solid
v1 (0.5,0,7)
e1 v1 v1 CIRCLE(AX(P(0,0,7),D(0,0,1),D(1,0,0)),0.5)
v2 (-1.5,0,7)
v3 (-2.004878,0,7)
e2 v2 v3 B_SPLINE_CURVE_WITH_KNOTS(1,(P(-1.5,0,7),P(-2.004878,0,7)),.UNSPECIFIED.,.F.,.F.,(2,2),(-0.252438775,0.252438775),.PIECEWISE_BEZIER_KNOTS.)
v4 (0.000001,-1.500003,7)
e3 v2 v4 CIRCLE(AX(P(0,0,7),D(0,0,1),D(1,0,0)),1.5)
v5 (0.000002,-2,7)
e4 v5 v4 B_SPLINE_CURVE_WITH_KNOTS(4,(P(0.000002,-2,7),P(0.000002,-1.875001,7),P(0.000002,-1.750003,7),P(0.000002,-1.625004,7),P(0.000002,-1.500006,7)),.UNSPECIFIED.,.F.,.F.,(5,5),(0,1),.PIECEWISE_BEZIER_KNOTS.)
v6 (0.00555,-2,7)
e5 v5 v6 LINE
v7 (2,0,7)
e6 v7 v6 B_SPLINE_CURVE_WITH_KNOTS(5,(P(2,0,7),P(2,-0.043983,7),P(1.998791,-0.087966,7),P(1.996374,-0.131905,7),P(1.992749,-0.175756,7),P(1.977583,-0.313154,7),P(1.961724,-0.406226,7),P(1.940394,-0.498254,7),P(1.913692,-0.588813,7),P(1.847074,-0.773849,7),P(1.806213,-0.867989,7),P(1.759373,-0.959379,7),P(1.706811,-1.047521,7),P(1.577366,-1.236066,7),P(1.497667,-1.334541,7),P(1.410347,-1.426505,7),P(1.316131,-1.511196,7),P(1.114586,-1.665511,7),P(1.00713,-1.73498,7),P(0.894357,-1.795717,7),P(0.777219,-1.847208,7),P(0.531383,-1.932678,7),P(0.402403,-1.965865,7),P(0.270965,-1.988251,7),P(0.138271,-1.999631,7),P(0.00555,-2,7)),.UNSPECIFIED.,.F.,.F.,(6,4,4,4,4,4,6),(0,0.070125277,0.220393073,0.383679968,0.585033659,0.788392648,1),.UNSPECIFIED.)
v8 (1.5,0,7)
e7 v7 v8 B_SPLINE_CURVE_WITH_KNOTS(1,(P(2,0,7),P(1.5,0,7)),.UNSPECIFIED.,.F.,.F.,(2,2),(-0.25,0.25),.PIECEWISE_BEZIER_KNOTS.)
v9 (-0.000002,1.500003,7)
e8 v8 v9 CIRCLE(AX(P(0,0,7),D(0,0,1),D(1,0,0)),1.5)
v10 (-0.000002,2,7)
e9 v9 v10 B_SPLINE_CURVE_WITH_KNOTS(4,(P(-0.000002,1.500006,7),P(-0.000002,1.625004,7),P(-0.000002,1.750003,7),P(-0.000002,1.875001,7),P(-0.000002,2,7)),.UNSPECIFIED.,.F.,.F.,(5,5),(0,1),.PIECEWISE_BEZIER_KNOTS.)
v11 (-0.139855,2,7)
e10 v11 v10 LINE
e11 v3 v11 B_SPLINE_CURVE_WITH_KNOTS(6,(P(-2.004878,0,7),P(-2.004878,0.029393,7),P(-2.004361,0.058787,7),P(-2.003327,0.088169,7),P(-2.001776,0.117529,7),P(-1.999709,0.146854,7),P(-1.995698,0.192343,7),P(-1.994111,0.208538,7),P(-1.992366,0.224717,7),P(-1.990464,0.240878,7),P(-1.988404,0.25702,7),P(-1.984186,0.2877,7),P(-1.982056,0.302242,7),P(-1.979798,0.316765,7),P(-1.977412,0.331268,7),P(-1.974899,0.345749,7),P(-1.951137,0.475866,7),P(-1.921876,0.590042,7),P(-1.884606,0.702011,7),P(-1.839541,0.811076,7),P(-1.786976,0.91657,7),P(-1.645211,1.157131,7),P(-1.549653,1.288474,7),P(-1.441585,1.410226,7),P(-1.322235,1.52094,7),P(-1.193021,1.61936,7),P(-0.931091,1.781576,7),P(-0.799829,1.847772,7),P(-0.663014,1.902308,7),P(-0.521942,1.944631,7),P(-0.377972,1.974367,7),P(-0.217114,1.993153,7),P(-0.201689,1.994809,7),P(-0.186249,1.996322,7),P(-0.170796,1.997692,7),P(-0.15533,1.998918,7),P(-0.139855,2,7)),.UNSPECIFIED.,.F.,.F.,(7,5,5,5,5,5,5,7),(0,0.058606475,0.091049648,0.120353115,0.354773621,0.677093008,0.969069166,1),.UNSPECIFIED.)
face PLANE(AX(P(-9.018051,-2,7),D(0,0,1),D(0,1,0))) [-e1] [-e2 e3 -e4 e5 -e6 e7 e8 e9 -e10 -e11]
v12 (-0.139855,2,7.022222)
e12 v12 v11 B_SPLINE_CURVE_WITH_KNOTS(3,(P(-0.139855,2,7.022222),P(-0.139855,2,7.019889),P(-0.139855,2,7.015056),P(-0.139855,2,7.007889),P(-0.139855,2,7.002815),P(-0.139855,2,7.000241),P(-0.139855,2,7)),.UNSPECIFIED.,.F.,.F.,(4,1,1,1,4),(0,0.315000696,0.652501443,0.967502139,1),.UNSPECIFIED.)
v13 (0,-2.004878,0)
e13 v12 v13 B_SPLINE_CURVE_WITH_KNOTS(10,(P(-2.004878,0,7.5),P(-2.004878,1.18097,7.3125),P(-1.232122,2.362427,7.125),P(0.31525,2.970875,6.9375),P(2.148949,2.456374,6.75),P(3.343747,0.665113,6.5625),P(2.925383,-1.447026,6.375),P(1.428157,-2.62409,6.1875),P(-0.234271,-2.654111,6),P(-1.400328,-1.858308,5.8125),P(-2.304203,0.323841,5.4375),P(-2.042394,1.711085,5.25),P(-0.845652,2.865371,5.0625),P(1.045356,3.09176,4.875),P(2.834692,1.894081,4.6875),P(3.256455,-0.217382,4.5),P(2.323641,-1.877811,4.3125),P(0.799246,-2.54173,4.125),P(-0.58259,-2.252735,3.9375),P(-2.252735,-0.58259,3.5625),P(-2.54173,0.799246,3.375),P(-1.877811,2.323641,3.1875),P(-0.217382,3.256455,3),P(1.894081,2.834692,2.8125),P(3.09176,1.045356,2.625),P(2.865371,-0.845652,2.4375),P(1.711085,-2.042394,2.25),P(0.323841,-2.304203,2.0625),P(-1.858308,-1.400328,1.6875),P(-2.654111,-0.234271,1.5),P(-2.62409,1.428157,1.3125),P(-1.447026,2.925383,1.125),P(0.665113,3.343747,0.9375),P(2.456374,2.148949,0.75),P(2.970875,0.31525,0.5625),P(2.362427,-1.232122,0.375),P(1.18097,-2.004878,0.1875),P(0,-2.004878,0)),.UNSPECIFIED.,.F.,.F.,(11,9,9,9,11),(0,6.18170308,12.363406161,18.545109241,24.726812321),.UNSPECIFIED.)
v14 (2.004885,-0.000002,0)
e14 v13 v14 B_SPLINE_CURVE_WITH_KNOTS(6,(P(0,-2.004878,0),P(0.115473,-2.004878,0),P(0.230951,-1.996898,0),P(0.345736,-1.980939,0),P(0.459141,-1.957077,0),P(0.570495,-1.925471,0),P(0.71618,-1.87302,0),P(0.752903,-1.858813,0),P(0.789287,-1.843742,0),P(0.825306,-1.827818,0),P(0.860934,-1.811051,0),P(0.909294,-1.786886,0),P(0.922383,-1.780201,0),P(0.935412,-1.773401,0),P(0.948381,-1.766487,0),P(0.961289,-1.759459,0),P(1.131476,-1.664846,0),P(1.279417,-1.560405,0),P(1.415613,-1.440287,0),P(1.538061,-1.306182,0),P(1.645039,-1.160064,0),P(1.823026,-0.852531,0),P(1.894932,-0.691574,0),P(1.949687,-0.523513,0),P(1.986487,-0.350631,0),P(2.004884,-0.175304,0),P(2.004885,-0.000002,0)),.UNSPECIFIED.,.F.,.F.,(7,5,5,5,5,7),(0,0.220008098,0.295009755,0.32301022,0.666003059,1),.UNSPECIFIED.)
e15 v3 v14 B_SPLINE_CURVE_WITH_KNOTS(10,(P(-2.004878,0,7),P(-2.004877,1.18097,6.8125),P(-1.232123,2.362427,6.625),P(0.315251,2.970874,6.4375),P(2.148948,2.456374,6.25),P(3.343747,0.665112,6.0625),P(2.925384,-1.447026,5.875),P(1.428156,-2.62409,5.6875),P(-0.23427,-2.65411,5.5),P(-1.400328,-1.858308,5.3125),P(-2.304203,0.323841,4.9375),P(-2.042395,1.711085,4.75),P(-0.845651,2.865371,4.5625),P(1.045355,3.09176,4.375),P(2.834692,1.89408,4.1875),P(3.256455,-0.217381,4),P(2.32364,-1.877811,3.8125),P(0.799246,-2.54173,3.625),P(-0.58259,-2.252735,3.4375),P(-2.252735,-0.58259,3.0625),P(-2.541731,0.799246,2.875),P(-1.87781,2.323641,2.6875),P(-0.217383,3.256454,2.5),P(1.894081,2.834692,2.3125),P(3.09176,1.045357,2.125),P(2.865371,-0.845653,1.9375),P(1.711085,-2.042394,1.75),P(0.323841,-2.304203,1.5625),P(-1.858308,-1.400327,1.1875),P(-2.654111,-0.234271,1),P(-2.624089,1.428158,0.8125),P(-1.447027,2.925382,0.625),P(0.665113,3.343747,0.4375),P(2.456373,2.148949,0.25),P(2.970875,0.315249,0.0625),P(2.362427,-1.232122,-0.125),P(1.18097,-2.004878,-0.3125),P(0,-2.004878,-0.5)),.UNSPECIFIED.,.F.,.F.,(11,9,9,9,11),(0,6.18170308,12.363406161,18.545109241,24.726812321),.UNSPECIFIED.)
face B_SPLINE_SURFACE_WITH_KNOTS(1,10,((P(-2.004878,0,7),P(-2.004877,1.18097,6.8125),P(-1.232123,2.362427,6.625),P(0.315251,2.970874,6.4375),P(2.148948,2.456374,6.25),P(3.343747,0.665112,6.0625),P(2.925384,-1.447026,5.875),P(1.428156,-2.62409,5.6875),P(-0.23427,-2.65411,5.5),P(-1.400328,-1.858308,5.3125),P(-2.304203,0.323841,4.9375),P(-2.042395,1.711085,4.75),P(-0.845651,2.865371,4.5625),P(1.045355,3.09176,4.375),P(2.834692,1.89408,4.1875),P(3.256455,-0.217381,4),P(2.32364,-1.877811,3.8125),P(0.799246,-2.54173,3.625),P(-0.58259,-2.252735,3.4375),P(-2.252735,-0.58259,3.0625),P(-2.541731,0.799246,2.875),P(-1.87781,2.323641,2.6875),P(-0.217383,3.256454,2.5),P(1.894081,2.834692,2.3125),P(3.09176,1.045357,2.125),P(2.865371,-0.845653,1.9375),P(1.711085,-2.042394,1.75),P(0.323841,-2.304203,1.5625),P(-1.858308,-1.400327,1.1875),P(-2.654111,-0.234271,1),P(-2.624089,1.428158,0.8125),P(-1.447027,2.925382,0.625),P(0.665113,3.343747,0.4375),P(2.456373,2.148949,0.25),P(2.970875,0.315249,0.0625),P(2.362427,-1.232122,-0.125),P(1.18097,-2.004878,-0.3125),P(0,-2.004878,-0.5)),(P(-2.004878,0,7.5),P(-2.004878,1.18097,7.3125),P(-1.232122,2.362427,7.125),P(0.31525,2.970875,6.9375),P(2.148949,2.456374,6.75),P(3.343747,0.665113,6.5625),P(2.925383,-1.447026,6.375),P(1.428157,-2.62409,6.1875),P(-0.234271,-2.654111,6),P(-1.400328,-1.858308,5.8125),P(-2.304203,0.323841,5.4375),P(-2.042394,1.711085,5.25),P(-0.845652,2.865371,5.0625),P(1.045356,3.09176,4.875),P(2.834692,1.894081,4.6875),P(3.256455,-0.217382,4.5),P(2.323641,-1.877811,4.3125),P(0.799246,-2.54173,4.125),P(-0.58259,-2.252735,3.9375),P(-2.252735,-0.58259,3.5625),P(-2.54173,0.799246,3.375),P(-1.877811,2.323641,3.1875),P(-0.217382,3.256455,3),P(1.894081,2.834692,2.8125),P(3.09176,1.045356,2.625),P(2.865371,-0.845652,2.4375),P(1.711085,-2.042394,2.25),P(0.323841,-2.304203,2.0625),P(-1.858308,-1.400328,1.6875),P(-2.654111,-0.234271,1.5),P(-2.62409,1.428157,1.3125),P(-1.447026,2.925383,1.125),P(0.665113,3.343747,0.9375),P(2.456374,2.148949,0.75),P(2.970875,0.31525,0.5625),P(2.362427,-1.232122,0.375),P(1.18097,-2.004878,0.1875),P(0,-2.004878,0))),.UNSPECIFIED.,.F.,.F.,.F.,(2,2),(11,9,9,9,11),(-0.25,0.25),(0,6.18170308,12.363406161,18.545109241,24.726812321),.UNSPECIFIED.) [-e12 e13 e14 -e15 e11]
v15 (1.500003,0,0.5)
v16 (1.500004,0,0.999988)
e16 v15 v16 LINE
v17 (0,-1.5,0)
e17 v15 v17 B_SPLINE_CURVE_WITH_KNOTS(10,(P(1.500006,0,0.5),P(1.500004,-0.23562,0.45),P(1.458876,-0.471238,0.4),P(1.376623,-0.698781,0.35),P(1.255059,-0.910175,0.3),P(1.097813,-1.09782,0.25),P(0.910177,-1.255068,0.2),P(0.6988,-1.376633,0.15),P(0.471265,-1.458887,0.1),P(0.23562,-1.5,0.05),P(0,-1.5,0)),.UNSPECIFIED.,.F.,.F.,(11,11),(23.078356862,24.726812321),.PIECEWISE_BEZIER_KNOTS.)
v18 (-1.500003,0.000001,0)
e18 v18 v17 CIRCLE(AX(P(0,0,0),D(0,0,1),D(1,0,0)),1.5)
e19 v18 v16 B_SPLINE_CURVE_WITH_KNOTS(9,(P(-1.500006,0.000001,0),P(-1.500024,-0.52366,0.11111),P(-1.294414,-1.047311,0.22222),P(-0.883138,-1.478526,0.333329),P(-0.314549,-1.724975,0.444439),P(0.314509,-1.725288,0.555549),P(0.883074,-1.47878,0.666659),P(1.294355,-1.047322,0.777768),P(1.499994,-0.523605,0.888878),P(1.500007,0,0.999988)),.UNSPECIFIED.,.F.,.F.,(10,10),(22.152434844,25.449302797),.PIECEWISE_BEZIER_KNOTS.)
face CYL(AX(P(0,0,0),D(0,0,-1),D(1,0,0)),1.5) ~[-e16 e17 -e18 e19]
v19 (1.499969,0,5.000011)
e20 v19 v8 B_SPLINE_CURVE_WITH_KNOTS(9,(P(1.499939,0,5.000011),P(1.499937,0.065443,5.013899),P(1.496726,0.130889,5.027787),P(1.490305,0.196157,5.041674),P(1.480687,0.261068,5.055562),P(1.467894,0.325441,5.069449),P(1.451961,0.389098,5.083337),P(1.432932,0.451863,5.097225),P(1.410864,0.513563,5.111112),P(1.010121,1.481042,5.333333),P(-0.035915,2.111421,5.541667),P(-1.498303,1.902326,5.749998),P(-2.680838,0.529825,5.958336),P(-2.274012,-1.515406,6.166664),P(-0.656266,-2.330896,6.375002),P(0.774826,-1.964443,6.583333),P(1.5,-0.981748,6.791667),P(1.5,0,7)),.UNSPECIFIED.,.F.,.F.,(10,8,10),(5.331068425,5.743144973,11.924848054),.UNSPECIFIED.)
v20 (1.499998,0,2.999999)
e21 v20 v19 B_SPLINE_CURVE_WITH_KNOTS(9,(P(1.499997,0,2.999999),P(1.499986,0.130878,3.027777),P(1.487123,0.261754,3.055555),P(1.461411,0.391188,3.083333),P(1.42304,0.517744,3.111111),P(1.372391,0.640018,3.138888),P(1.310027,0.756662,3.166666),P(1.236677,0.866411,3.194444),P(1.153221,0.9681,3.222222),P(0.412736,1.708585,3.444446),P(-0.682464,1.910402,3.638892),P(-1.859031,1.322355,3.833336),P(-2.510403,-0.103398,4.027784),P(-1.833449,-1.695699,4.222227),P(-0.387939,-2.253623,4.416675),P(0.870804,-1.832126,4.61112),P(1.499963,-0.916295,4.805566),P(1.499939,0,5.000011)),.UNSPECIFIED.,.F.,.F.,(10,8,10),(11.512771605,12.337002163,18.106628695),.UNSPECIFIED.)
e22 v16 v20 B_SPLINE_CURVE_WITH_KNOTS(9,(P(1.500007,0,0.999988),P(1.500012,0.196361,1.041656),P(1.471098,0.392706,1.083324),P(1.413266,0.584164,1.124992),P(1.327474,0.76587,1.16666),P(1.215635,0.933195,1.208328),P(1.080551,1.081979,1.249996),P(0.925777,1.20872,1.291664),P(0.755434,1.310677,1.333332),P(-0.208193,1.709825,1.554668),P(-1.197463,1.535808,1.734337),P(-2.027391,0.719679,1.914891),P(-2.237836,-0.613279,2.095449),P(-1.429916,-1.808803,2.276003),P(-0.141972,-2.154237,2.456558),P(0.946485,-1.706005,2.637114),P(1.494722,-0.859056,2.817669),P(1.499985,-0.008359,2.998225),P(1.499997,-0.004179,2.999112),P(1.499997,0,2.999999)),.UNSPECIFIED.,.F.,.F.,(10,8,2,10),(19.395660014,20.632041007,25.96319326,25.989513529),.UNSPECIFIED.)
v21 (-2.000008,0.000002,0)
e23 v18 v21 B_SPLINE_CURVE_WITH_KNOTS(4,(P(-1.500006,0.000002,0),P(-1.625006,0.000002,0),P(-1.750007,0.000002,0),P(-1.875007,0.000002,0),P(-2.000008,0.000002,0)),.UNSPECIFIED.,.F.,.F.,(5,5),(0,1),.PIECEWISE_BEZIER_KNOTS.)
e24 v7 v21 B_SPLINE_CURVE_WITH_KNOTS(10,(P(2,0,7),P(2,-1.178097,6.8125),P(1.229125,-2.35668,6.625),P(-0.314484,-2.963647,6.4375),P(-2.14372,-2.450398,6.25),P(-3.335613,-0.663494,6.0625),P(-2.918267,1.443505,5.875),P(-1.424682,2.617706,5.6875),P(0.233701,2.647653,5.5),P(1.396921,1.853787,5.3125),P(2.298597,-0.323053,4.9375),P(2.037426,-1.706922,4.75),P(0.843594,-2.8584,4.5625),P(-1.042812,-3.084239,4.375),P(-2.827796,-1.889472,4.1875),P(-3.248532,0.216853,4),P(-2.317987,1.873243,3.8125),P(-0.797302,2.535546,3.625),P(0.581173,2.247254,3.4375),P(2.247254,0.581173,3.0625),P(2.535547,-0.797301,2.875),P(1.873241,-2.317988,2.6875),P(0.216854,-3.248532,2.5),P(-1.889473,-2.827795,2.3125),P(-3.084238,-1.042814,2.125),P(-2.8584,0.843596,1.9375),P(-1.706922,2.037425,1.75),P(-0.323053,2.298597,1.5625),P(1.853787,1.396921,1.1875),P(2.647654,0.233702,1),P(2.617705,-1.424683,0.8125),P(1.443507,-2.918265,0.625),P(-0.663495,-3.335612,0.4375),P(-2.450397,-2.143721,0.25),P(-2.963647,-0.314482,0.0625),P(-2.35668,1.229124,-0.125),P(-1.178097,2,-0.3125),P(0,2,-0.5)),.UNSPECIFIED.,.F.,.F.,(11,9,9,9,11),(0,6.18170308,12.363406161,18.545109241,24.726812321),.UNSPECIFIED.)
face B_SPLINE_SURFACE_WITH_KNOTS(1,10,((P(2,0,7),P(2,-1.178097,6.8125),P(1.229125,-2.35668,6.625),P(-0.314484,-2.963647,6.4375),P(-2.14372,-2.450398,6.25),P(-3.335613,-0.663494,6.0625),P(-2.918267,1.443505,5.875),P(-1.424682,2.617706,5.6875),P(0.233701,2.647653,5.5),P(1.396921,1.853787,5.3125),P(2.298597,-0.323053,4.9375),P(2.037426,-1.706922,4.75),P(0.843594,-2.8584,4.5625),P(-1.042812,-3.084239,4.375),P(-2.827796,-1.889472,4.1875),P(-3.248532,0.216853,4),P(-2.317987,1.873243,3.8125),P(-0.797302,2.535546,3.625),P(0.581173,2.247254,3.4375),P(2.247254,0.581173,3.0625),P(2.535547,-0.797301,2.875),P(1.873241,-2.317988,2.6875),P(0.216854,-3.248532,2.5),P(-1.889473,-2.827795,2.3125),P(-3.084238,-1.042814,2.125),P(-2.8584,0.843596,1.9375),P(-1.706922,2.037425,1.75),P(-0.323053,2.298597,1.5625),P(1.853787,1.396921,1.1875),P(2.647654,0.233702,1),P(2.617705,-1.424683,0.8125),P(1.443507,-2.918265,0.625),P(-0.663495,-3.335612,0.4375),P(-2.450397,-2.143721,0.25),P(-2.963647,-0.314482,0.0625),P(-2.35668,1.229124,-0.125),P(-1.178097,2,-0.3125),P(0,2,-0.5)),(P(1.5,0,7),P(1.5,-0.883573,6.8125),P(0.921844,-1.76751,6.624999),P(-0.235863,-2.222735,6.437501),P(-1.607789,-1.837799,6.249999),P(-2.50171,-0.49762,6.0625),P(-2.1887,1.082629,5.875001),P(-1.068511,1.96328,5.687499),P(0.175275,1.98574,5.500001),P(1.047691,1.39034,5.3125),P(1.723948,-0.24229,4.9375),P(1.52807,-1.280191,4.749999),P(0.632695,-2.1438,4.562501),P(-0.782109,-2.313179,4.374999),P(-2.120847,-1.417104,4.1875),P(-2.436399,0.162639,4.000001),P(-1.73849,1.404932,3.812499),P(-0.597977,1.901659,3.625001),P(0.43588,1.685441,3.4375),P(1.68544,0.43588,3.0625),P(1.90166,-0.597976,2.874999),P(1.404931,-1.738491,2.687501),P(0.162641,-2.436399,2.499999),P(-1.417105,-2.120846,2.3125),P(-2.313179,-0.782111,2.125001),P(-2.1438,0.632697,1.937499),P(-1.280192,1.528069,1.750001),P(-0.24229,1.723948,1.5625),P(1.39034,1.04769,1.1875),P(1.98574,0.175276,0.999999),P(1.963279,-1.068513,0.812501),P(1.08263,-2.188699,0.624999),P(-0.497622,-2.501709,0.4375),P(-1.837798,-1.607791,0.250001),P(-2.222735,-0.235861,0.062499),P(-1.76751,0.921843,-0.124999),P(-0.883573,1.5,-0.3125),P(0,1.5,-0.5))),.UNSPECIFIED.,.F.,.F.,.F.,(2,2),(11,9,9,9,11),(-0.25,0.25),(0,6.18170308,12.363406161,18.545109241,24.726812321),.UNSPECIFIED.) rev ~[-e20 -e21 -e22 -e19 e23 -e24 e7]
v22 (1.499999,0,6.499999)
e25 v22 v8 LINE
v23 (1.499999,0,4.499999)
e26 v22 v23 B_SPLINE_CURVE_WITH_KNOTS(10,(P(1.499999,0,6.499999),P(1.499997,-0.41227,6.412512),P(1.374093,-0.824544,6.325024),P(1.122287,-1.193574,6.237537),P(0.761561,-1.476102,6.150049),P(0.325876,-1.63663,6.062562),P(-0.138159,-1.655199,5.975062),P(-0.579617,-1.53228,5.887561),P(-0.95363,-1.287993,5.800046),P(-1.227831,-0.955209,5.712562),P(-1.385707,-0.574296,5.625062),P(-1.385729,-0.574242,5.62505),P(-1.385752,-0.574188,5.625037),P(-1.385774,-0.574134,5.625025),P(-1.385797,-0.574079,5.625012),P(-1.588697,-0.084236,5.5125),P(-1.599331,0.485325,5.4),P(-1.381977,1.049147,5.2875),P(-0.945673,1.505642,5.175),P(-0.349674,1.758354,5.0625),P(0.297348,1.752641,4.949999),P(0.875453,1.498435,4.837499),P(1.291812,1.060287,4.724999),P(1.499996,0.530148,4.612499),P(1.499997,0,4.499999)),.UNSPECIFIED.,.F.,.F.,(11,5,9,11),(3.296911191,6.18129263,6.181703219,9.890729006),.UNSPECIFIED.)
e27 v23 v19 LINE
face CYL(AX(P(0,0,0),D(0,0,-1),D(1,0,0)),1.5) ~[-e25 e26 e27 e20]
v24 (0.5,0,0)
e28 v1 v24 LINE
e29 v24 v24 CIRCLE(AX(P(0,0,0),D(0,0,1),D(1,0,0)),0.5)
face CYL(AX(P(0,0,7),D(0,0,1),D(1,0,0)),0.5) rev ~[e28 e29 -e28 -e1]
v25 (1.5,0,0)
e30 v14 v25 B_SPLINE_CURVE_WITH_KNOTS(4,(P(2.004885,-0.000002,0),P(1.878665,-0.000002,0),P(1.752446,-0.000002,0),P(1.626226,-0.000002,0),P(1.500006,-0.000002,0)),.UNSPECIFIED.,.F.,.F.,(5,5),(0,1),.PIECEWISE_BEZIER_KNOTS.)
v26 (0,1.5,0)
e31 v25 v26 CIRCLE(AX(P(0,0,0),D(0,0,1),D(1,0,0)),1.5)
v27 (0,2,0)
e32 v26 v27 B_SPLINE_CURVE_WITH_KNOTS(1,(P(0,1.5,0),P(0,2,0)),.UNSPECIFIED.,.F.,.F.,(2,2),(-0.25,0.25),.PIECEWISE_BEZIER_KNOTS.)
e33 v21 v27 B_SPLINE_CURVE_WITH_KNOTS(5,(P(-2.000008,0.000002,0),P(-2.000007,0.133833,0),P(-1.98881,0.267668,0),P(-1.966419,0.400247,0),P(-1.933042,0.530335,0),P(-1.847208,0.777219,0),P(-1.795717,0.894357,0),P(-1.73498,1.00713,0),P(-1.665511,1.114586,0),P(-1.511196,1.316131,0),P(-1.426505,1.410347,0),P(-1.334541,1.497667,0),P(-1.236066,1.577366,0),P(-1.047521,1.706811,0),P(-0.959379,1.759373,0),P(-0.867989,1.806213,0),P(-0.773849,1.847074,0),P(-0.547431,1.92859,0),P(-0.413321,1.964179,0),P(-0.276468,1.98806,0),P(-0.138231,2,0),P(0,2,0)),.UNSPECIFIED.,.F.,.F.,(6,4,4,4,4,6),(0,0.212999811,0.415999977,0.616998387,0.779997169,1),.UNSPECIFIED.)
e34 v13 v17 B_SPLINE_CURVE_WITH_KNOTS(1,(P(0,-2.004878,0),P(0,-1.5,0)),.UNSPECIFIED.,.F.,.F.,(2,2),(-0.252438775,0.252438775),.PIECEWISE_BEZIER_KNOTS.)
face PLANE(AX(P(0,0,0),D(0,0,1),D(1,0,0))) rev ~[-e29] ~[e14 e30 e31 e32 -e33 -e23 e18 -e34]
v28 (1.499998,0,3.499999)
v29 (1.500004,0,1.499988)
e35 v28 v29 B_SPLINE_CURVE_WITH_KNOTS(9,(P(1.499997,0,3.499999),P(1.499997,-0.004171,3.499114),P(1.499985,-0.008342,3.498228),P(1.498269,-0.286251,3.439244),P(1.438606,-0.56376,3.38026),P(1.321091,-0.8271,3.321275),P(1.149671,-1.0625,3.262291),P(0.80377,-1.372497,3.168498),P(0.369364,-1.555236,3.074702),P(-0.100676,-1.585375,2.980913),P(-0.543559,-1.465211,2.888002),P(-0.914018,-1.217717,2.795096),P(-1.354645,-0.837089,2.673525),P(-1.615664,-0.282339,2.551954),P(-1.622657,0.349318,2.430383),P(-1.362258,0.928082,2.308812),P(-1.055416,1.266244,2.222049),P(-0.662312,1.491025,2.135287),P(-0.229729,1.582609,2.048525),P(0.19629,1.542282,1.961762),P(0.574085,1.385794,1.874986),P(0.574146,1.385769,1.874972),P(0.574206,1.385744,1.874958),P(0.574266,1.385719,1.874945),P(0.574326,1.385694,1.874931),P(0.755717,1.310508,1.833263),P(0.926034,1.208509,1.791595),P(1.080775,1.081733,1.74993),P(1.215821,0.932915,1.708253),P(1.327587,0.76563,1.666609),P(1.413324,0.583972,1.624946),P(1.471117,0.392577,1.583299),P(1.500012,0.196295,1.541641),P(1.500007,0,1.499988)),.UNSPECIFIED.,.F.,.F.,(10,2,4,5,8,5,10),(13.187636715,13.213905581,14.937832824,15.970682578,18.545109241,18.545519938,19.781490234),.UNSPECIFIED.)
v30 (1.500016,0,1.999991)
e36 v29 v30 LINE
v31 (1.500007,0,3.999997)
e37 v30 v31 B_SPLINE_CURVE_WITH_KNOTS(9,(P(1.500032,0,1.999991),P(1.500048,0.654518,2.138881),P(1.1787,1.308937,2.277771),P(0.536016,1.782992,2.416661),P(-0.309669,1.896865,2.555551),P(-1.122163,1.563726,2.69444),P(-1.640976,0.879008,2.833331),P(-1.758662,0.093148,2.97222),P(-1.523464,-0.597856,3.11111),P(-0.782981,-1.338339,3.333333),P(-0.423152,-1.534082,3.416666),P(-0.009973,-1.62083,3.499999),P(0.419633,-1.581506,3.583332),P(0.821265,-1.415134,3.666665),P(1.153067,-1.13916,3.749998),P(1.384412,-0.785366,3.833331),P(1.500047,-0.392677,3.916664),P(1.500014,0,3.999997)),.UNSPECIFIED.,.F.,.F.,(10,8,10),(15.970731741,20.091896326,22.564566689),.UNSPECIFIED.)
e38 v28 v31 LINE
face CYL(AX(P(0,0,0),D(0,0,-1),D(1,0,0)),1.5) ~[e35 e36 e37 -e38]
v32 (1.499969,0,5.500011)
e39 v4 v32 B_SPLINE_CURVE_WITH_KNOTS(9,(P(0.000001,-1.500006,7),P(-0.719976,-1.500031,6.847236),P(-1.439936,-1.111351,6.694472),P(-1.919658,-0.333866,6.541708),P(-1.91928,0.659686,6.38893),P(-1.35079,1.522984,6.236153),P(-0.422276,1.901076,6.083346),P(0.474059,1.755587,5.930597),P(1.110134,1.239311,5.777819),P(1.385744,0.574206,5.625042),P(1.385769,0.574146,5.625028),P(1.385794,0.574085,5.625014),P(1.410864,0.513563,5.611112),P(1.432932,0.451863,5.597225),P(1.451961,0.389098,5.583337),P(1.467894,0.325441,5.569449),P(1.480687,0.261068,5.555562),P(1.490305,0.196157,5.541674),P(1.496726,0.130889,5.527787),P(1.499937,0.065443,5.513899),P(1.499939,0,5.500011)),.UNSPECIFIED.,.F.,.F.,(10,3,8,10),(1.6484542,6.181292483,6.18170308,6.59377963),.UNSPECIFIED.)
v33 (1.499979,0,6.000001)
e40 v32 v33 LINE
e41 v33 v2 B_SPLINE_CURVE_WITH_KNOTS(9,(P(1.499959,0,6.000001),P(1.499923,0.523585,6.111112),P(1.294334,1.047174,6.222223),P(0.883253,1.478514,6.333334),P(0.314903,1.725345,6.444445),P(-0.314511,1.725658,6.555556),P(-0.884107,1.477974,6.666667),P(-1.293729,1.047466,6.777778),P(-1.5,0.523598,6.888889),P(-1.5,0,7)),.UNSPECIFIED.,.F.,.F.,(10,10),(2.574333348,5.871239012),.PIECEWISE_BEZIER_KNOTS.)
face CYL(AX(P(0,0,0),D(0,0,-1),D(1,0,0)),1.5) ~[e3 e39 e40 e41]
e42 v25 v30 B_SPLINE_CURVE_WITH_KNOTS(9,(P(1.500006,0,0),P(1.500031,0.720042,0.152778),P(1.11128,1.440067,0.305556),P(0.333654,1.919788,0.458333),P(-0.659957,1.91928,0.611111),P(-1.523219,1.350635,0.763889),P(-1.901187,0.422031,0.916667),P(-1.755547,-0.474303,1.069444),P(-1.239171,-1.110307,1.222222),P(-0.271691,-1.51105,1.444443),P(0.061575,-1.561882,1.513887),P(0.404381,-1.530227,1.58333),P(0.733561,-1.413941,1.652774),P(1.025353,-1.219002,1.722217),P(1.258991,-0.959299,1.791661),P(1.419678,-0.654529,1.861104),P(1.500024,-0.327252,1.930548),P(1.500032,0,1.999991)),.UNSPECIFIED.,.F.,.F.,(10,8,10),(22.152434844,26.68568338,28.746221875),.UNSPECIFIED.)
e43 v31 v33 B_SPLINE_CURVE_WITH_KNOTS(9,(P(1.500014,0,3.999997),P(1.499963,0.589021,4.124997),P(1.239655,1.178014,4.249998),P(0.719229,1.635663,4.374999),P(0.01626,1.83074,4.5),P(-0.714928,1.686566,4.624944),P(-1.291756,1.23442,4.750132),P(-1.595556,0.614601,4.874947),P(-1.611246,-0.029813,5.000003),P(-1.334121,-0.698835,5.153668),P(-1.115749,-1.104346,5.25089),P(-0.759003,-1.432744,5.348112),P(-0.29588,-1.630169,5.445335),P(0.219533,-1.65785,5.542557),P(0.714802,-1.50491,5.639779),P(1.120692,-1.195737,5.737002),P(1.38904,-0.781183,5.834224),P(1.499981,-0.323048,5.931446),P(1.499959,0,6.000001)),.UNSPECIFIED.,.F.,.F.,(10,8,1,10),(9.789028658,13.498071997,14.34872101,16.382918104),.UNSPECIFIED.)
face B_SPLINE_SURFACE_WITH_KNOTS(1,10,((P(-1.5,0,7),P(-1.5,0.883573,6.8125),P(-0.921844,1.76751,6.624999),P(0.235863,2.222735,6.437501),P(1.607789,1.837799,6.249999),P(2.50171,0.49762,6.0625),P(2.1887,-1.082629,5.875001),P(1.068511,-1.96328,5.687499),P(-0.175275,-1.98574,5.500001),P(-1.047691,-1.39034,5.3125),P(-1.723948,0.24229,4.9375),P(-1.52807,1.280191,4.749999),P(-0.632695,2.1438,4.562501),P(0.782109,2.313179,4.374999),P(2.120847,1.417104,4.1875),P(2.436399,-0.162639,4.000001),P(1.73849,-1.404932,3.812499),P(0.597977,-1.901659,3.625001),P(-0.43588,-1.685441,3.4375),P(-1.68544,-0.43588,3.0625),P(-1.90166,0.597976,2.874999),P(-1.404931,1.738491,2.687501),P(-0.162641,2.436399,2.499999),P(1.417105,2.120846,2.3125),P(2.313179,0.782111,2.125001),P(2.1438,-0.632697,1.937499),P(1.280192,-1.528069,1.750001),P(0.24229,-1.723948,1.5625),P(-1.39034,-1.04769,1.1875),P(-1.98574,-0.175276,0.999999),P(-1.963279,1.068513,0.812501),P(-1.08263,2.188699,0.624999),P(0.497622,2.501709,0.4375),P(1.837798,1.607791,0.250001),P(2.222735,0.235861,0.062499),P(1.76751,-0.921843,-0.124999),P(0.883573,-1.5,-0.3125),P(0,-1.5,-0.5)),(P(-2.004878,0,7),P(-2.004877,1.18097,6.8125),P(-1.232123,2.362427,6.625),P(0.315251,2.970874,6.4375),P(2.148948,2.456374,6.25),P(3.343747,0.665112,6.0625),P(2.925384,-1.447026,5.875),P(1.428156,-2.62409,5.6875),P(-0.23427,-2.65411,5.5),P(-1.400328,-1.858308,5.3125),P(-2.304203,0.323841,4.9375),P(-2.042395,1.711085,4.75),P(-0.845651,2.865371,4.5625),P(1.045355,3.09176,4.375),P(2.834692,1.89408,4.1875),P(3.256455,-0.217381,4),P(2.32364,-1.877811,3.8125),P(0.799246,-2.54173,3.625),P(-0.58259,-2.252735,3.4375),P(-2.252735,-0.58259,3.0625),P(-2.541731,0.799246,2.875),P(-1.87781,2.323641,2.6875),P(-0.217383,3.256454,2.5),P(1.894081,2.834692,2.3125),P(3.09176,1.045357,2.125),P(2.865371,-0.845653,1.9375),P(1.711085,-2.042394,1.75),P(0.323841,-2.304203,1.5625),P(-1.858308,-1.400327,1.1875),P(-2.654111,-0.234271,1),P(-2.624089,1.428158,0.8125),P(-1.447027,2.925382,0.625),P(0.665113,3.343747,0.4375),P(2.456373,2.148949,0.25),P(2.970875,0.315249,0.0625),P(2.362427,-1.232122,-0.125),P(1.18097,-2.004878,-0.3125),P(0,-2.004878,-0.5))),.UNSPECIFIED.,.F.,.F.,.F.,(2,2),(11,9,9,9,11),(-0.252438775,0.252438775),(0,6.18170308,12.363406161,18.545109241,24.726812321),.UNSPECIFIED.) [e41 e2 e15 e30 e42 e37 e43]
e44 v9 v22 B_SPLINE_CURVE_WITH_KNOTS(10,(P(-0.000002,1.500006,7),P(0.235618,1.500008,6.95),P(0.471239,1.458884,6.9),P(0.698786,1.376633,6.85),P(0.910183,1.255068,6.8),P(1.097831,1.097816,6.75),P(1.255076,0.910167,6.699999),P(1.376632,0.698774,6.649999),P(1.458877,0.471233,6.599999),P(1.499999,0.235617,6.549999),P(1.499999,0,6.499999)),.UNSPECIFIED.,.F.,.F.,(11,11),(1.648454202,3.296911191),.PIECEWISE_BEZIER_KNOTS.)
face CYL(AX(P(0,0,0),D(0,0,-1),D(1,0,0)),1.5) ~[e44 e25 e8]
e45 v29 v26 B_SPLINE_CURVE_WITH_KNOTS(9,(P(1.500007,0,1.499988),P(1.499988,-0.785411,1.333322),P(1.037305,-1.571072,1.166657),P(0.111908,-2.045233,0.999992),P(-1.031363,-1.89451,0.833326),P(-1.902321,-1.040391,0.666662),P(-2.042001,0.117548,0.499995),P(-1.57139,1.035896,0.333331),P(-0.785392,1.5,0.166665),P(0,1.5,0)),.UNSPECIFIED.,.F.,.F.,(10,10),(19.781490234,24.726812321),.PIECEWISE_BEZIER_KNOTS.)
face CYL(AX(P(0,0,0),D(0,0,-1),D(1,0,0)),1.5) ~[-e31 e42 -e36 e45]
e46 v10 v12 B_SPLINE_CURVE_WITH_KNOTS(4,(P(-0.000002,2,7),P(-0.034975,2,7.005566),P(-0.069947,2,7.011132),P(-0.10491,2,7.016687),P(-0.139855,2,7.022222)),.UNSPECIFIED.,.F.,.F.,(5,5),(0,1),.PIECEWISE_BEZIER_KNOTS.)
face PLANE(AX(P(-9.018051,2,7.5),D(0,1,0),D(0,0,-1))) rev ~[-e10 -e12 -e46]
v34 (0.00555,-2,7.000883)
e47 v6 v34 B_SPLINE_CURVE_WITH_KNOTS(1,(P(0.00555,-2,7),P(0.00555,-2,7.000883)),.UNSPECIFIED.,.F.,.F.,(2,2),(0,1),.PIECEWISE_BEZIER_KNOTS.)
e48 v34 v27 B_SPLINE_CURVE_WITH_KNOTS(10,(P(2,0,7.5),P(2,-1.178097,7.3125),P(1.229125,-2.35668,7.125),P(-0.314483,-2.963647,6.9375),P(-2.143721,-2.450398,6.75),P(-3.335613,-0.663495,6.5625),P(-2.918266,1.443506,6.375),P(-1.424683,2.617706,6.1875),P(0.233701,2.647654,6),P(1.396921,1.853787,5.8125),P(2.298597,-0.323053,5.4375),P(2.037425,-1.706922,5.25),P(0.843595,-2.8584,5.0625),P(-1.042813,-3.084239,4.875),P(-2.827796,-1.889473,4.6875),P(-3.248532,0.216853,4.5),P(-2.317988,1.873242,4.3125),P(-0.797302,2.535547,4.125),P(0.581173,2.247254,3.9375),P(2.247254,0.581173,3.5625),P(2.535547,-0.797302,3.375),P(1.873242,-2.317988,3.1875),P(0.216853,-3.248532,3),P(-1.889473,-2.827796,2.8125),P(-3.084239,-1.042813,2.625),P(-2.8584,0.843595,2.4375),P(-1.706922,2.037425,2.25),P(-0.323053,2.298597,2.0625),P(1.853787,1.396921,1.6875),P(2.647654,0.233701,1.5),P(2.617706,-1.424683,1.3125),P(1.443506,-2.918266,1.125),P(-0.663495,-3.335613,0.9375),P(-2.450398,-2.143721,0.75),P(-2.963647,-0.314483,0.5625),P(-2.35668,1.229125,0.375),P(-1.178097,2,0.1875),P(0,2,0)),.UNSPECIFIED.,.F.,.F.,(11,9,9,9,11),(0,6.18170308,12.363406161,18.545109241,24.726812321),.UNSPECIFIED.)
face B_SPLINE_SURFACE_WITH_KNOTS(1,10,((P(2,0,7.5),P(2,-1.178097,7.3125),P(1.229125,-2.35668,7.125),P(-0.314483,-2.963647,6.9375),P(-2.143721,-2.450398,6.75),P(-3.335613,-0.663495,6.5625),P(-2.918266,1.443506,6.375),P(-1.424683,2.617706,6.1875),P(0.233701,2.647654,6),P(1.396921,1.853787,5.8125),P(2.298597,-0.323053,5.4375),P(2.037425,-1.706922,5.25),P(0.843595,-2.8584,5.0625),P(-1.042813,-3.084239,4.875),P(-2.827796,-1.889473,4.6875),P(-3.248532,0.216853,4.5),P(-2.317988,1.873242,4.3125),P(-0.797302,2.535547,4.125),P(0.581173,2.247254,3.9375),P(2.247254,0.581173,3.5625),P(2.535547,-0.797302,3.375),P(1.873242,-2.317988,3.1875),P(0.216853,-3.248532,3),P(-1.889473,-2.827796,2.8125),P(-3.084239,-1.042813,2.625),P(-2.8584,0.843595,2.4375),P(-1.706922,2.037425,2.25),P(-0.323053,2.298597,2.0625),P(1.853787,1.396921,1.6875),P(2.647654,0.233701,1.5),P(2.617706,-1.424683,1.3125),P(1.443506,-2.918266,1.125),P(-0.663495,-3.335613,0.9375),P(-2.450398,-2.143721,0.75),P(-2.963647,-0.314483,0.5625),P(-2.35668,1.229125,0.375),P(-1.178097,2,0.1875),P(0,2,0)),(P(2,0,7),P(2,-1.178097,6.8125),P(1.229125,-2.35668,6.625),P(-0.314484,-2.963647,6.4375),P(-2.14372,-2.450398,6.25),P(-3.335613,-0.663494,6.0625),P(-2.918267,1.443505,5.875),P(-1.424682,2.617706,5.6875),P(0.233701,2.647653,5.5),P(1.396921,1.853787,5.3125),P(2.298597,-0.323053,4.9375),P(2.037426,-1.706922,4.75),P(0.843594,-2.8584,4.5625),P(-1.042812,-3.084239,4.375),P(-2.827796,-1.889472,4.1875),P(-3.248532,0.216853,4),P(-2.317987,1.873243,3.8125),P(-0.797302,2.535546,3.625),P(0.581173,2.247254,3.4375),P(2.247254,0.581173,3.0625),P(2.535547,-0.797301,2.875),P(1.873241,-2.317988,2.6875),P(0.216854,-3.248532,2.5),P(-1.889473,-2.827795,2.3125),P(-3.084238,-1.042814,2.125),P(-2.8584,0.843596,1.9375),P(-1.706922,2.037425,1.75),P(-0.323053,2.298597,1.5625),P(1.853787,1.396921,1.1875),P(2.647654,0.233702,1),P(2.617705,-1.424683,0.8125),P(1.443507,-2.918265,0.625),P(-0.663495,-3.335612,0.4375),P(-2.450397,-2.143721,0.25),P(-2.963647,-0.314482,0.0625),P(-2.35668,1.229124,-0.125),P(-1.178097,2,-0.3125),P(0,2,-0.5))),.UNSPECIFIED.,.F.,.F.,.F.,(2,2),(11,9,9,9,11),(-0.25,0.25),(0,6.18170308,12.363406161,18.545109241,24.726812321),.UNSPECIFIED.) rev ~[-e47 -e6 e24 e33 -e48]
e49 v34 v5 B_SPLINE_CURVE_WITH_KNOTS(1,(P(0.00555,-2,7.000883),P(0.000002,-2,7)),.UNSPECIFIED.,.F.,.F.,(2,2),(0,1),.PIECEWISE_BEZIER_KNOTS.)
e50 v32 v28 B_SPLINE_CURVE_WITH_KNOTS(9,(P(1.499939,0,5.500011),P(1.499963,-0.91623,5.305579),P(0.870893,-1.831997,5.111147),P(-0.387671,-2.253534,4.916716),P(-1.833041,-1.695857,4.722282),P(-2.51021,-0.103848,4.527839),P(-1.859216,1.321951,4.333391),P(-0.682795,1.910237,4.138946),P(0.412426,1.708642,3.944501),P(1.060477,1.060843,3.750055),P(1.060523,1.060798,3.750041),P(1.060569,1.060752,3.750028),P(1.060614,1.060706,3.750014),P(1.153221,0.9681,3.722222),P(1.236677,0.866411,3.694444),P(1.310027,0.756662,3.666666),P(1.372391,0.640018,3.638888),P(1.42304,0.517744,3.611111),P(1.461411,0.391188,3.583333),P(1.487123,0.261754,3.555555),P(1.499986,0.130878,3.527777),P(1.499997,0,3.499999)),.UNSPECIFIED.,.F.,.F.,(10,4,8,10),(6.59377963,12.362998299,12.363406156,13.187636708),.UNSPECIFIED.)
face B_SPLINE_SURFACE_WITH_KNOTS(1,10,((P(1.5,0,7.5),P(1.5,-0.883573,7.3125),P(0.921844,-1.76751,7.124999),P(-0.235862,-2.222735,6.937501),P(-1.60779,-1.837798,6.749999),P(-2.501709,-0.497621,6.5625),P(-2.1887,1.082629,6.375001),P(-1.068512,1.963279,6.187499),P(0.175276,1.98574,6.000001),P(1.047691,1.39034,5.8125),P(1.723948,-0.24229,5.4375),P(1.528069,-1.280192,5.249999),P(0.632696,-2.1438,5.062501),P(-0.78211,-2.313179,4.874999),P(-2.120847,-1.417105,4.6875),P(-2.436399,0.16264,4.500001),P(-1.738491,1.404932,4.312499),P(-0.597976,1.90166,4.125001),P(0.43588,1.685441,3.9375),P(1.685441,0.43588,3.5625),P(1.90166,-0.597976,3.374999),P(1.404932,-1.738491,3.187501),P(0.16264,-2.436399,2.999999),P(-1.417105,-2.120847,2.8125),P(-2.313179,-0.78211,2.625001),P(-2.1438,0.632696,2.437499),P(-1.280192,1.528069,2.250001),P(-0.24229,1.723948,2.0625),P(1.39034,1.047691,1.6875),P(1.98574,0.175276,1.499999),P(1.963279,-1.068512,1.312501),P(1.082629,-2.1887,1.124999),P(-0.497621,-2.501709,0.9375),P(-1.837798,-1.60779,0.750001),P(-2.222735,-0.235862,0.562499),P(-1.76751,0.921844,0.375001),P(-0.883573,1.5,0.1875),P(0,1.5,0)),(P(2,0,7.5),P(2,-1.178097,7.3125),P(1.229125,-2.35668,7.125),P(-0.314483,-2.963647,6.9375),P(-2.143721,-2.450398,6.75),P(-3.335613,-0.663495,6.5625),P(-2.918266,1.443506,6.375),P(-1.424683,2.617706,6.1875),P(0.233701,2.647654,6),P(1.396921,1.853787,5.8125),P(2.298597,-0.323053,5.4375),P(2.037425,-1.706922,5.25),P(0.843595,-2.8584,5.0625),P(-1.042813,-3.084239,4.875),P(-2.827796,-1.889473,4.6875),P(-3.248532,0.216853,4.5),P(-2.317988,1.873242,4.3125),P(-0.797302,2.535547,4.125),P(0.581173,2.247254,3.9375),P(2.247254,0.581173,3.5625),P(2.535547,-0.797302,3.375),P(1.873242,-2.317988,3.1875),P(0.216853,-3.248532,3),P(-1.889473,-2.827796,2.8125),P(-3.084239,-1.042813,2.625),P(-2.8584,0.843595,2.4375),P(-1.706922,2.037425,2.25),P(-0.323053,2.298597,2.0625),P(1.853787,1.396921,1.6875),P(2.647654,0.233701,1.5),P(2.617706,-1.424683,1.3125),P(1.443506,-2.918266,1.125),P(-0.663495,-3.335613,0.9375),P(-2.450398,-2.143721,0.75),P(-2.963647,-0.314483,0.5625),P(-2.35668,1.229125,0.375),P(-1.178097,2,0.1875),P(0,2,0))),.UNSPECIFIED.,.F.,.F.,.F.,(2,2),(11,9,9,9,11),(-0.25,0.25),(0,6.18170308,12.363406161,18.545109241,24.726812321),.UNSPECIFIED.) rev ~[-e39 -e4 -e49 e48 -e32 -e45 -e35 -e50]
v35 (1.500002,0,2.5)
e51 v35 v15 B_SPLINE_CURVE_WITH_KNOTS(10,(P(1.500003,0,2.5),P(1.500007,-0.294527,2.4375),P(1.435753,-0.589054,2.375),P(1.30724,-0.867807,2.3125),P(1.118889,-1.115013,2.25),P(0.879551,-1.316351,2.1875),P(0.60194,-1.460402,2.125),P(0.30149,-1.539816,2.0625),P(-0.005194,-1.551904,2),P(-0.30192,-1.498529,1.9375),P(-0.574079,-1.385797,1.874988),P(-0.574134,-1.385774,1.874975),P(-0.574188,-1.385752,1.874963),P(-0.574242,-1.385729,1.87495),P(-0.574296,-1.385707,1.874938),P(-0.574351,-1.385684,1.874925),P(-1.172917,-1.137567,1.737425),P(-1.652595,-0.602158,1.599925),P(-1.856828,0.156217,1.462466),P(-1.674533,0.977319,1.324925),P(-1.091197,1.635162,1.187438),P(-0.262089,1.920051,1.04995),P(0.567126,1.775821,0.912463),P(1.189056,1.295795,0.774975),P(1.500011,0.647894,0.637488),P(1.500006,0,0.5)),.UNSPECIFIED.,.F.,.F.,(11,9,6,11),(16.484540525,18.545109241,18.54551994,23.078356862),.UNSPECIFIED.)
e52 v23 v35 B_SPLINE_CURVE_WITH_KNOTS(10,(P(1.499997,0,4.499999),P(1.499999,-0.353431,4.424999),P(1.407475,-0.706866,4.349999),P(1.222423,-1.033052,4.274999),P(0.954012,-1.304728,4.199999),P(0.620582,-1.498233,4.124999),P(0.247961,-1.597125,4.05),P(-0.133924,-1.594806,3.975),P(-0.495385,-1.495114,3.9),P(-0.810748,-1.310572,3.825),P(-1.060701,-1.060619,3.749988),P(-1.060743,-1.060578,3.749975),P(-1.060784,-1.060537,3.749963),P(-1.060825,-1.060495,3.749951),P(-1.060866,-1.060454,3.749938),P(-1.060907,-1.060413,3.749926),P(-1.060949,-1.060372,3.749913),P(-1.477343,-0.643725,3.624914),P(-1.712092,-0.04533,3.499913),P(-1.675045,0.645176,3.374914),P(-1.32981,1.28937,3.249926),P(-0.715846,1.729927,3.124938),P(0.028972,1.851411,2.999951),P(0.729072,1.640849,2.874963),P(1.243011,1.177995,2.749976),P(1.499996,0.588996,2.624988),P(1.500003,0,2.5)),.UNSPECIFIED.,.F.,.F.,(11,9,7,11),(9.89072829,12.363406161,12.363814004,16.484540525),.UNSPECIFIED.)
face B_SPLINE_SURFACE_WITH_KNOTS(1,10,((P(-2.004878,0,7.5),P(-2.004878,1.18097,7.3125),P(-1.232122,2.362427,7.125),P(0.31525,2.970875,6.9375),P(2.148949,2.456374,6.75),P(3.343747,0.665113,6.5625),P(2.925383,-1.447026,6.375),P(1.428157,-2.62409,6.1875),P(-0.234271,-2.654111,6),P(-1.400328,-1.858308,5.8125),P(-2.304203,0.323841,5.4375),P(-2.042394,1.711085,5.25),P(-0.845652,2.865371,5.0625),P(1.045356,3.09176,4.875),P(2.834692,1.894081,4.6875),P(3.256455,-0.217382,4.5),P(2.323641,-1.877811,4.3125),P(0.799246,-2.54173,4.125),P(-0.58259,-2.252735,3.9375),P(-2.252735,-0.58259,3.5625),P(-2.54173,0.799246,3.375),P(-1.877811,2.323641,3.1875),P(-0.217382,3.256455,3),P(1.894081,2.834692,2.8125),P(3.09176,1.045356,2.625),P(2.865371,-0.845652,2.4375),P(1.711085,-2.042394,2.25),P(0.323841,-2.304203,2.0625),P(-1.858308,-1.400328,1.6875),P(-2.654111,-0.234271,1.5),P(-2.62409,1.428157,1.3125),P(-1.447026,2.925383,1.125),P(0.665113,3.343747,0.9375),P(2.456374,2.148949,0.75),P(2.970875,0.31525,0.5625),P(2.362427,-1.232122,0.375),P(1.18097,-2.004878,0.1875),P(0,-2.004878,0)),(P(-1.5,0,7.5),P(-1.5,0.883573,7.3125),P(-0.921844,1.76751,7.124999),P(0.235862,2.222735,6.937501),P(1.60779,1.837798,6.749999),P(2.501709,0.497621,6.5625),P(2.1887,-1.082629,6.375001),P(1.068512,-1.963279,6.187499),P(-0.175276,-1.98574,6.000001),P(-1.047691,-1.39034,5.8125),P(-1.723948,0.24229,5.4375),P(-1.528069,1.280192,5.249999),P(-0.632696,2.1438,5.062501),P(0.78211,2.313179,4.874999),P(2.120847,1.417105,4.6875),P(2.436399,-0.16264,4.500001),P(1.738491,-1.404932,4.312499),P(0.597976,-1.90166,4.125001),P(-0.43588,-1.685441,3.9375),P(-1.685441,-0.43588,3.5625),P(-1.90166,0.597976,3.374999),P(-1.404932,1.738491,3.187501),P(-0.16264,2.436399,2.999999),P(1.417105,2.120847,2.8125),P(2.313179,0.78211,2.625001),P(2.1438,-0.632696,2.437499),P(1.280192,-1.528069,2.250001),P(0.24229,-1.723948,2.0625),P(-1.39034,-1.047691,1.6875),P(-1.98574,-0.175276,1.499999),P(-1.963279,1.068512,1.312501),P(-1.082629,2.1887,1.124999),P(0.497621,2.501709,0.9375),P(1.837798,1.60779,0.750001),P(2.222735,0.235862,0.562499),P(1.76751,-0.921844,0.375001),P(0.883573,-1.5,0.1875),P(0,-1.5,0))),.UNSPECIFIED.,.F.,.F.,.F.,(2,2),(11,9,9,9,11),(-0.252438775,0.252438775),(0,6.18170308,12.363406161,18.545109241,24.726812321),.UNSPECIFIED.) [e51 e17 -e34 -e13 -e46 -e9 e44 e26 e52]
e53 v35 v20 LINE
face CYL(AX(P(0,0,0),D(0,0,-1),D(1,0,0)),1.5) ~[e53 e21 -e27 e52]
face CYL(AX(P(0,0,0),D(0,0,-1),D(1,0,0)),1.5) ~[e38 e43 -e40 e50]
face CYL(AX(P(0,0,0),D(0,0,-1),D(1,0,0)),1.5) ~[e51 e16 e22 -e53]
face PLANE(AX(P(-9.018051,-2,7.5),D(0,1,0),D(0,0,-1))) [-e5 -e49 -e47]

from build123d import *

# Parameters (mm, degrees)
SKETCH2_R               = 1.5
BOSS_EXTRUDE1_DEPTH     = 7
SWEEP1_PITCH            = 2
SWEEP1_HEIGHT           = 7.5
SWEEP1_RADIUS           = 2
SKETCH5_W               = 0.50487755
SKETCH5_H               = 0.5
SWEEP2_PITCH            = 2
SWEEP2_HEIGHT           = 7.5
SWEEP2_RADIUS           = 2
SWEEP2_START_ANGLE      = 180
SKETCH6_W               = 0.5
SKETCH6_H               = 0.5
CUT_EXTRUDE1_DEPTH      = 9.018050785
CUT_EXTRUDE1_DEPTH_BACK = 9.018050785
SKETCH8_W               = 0.5
SKETCH8_H               = 4
SKETCH8_H_2             = 4.221172624
SKETCH9_R               = 0.5
CUT_EXTRUDE2_DEPTH      = 8.552425988


with BuildPart() as part:
    # Sketch2 → Boss-Extrude1 (new body)
    with BuildSketch(Plane.XY):
        Circle(SKETCH2_R)
    extrude(amount=BOSS_EXTRUDE1_DEPTH)

    # Sweep1: sweep along a helix
    with BuildLine() as sweep1_path:
        Helix(SWEEP1_PITCH, SWEEP1_HEIGHT, SWEEP1_RADIUS, center=(0, 0, 7.5), direction=(0, 0, -1))
    # Sketch5 → Sweep1 (sweep)
    with BuildSketch(Plane(origin=(0, 0, 0), x_dir=(1, 0, 0), z_dir=(0, 1, 0))):
        with Locations((-1.752438775, -7.25)):
            Rectangle(SKETCH5_W, SKETCH5_H)
    sweep(path=sweep1_path.line, is_frenet=True)

    # Sweep2: sweep along a helix
    with BuildLine() as sweep2_path:
        add(Helix(SWEEP2_PITCH, SWEEP2_HEIGHT, SWEEP2_RADIUS, center=(0, 0, 7.5), direction=(0, 0, -1), mode=Mode.PRIVATE).rotate(Axis((0, 0, 7.5), (0, 0, -1)), SWEEP2_START_ANGLE))
    # Sketch6 → Sweep2 (sweep)
    with BuildSketch(Plane(origin=(0, 0, 0), x_dir=(1, 0, 0), z_dir=(0, 1, 0))):
        with Locations((1.75, -7.25)):
            Rectangle(SKETCH6_W, SKETCH6_H)
    sweep(path=sweep2_path.line, is_frenet=True)

    # Sketch8 → Cut-Extrude1 (cut, two sides: drawn at the far end of the back side and taken through both)
    with BuildSketch(Plane(origin=(0, 0, 0), x_dir=(0, 0, -1), z_dir=(1, 0, 0)).offset(-CUT_EXTRUDE1_DEPTH_BACK)):
        with Locations((-7.25, 0)):
            Rectangle(SKETCH8_W, SKETCH8_H)
        with Locations((0.25, -0.110586312)):
            Rectangle(SKETCH8_W, SKETCH8_H_2)
    extrude(amount=CUT_EXTRUDE1_DEPTH + CUT_EXTRUDE1_DEPTH_BACK, mode=Mode.SUBTRACT)

    # Sketch9 → Cut-Extrude2 (cut, through all)
    with BuildSketch(Plane.XY.offset(7)):
        Circle(SKETCH9_R)
    extrude(amount=-CUT_EXTRUDE2_DEPTH, mode=Mode.SUBTRACT)


solid = part.part
